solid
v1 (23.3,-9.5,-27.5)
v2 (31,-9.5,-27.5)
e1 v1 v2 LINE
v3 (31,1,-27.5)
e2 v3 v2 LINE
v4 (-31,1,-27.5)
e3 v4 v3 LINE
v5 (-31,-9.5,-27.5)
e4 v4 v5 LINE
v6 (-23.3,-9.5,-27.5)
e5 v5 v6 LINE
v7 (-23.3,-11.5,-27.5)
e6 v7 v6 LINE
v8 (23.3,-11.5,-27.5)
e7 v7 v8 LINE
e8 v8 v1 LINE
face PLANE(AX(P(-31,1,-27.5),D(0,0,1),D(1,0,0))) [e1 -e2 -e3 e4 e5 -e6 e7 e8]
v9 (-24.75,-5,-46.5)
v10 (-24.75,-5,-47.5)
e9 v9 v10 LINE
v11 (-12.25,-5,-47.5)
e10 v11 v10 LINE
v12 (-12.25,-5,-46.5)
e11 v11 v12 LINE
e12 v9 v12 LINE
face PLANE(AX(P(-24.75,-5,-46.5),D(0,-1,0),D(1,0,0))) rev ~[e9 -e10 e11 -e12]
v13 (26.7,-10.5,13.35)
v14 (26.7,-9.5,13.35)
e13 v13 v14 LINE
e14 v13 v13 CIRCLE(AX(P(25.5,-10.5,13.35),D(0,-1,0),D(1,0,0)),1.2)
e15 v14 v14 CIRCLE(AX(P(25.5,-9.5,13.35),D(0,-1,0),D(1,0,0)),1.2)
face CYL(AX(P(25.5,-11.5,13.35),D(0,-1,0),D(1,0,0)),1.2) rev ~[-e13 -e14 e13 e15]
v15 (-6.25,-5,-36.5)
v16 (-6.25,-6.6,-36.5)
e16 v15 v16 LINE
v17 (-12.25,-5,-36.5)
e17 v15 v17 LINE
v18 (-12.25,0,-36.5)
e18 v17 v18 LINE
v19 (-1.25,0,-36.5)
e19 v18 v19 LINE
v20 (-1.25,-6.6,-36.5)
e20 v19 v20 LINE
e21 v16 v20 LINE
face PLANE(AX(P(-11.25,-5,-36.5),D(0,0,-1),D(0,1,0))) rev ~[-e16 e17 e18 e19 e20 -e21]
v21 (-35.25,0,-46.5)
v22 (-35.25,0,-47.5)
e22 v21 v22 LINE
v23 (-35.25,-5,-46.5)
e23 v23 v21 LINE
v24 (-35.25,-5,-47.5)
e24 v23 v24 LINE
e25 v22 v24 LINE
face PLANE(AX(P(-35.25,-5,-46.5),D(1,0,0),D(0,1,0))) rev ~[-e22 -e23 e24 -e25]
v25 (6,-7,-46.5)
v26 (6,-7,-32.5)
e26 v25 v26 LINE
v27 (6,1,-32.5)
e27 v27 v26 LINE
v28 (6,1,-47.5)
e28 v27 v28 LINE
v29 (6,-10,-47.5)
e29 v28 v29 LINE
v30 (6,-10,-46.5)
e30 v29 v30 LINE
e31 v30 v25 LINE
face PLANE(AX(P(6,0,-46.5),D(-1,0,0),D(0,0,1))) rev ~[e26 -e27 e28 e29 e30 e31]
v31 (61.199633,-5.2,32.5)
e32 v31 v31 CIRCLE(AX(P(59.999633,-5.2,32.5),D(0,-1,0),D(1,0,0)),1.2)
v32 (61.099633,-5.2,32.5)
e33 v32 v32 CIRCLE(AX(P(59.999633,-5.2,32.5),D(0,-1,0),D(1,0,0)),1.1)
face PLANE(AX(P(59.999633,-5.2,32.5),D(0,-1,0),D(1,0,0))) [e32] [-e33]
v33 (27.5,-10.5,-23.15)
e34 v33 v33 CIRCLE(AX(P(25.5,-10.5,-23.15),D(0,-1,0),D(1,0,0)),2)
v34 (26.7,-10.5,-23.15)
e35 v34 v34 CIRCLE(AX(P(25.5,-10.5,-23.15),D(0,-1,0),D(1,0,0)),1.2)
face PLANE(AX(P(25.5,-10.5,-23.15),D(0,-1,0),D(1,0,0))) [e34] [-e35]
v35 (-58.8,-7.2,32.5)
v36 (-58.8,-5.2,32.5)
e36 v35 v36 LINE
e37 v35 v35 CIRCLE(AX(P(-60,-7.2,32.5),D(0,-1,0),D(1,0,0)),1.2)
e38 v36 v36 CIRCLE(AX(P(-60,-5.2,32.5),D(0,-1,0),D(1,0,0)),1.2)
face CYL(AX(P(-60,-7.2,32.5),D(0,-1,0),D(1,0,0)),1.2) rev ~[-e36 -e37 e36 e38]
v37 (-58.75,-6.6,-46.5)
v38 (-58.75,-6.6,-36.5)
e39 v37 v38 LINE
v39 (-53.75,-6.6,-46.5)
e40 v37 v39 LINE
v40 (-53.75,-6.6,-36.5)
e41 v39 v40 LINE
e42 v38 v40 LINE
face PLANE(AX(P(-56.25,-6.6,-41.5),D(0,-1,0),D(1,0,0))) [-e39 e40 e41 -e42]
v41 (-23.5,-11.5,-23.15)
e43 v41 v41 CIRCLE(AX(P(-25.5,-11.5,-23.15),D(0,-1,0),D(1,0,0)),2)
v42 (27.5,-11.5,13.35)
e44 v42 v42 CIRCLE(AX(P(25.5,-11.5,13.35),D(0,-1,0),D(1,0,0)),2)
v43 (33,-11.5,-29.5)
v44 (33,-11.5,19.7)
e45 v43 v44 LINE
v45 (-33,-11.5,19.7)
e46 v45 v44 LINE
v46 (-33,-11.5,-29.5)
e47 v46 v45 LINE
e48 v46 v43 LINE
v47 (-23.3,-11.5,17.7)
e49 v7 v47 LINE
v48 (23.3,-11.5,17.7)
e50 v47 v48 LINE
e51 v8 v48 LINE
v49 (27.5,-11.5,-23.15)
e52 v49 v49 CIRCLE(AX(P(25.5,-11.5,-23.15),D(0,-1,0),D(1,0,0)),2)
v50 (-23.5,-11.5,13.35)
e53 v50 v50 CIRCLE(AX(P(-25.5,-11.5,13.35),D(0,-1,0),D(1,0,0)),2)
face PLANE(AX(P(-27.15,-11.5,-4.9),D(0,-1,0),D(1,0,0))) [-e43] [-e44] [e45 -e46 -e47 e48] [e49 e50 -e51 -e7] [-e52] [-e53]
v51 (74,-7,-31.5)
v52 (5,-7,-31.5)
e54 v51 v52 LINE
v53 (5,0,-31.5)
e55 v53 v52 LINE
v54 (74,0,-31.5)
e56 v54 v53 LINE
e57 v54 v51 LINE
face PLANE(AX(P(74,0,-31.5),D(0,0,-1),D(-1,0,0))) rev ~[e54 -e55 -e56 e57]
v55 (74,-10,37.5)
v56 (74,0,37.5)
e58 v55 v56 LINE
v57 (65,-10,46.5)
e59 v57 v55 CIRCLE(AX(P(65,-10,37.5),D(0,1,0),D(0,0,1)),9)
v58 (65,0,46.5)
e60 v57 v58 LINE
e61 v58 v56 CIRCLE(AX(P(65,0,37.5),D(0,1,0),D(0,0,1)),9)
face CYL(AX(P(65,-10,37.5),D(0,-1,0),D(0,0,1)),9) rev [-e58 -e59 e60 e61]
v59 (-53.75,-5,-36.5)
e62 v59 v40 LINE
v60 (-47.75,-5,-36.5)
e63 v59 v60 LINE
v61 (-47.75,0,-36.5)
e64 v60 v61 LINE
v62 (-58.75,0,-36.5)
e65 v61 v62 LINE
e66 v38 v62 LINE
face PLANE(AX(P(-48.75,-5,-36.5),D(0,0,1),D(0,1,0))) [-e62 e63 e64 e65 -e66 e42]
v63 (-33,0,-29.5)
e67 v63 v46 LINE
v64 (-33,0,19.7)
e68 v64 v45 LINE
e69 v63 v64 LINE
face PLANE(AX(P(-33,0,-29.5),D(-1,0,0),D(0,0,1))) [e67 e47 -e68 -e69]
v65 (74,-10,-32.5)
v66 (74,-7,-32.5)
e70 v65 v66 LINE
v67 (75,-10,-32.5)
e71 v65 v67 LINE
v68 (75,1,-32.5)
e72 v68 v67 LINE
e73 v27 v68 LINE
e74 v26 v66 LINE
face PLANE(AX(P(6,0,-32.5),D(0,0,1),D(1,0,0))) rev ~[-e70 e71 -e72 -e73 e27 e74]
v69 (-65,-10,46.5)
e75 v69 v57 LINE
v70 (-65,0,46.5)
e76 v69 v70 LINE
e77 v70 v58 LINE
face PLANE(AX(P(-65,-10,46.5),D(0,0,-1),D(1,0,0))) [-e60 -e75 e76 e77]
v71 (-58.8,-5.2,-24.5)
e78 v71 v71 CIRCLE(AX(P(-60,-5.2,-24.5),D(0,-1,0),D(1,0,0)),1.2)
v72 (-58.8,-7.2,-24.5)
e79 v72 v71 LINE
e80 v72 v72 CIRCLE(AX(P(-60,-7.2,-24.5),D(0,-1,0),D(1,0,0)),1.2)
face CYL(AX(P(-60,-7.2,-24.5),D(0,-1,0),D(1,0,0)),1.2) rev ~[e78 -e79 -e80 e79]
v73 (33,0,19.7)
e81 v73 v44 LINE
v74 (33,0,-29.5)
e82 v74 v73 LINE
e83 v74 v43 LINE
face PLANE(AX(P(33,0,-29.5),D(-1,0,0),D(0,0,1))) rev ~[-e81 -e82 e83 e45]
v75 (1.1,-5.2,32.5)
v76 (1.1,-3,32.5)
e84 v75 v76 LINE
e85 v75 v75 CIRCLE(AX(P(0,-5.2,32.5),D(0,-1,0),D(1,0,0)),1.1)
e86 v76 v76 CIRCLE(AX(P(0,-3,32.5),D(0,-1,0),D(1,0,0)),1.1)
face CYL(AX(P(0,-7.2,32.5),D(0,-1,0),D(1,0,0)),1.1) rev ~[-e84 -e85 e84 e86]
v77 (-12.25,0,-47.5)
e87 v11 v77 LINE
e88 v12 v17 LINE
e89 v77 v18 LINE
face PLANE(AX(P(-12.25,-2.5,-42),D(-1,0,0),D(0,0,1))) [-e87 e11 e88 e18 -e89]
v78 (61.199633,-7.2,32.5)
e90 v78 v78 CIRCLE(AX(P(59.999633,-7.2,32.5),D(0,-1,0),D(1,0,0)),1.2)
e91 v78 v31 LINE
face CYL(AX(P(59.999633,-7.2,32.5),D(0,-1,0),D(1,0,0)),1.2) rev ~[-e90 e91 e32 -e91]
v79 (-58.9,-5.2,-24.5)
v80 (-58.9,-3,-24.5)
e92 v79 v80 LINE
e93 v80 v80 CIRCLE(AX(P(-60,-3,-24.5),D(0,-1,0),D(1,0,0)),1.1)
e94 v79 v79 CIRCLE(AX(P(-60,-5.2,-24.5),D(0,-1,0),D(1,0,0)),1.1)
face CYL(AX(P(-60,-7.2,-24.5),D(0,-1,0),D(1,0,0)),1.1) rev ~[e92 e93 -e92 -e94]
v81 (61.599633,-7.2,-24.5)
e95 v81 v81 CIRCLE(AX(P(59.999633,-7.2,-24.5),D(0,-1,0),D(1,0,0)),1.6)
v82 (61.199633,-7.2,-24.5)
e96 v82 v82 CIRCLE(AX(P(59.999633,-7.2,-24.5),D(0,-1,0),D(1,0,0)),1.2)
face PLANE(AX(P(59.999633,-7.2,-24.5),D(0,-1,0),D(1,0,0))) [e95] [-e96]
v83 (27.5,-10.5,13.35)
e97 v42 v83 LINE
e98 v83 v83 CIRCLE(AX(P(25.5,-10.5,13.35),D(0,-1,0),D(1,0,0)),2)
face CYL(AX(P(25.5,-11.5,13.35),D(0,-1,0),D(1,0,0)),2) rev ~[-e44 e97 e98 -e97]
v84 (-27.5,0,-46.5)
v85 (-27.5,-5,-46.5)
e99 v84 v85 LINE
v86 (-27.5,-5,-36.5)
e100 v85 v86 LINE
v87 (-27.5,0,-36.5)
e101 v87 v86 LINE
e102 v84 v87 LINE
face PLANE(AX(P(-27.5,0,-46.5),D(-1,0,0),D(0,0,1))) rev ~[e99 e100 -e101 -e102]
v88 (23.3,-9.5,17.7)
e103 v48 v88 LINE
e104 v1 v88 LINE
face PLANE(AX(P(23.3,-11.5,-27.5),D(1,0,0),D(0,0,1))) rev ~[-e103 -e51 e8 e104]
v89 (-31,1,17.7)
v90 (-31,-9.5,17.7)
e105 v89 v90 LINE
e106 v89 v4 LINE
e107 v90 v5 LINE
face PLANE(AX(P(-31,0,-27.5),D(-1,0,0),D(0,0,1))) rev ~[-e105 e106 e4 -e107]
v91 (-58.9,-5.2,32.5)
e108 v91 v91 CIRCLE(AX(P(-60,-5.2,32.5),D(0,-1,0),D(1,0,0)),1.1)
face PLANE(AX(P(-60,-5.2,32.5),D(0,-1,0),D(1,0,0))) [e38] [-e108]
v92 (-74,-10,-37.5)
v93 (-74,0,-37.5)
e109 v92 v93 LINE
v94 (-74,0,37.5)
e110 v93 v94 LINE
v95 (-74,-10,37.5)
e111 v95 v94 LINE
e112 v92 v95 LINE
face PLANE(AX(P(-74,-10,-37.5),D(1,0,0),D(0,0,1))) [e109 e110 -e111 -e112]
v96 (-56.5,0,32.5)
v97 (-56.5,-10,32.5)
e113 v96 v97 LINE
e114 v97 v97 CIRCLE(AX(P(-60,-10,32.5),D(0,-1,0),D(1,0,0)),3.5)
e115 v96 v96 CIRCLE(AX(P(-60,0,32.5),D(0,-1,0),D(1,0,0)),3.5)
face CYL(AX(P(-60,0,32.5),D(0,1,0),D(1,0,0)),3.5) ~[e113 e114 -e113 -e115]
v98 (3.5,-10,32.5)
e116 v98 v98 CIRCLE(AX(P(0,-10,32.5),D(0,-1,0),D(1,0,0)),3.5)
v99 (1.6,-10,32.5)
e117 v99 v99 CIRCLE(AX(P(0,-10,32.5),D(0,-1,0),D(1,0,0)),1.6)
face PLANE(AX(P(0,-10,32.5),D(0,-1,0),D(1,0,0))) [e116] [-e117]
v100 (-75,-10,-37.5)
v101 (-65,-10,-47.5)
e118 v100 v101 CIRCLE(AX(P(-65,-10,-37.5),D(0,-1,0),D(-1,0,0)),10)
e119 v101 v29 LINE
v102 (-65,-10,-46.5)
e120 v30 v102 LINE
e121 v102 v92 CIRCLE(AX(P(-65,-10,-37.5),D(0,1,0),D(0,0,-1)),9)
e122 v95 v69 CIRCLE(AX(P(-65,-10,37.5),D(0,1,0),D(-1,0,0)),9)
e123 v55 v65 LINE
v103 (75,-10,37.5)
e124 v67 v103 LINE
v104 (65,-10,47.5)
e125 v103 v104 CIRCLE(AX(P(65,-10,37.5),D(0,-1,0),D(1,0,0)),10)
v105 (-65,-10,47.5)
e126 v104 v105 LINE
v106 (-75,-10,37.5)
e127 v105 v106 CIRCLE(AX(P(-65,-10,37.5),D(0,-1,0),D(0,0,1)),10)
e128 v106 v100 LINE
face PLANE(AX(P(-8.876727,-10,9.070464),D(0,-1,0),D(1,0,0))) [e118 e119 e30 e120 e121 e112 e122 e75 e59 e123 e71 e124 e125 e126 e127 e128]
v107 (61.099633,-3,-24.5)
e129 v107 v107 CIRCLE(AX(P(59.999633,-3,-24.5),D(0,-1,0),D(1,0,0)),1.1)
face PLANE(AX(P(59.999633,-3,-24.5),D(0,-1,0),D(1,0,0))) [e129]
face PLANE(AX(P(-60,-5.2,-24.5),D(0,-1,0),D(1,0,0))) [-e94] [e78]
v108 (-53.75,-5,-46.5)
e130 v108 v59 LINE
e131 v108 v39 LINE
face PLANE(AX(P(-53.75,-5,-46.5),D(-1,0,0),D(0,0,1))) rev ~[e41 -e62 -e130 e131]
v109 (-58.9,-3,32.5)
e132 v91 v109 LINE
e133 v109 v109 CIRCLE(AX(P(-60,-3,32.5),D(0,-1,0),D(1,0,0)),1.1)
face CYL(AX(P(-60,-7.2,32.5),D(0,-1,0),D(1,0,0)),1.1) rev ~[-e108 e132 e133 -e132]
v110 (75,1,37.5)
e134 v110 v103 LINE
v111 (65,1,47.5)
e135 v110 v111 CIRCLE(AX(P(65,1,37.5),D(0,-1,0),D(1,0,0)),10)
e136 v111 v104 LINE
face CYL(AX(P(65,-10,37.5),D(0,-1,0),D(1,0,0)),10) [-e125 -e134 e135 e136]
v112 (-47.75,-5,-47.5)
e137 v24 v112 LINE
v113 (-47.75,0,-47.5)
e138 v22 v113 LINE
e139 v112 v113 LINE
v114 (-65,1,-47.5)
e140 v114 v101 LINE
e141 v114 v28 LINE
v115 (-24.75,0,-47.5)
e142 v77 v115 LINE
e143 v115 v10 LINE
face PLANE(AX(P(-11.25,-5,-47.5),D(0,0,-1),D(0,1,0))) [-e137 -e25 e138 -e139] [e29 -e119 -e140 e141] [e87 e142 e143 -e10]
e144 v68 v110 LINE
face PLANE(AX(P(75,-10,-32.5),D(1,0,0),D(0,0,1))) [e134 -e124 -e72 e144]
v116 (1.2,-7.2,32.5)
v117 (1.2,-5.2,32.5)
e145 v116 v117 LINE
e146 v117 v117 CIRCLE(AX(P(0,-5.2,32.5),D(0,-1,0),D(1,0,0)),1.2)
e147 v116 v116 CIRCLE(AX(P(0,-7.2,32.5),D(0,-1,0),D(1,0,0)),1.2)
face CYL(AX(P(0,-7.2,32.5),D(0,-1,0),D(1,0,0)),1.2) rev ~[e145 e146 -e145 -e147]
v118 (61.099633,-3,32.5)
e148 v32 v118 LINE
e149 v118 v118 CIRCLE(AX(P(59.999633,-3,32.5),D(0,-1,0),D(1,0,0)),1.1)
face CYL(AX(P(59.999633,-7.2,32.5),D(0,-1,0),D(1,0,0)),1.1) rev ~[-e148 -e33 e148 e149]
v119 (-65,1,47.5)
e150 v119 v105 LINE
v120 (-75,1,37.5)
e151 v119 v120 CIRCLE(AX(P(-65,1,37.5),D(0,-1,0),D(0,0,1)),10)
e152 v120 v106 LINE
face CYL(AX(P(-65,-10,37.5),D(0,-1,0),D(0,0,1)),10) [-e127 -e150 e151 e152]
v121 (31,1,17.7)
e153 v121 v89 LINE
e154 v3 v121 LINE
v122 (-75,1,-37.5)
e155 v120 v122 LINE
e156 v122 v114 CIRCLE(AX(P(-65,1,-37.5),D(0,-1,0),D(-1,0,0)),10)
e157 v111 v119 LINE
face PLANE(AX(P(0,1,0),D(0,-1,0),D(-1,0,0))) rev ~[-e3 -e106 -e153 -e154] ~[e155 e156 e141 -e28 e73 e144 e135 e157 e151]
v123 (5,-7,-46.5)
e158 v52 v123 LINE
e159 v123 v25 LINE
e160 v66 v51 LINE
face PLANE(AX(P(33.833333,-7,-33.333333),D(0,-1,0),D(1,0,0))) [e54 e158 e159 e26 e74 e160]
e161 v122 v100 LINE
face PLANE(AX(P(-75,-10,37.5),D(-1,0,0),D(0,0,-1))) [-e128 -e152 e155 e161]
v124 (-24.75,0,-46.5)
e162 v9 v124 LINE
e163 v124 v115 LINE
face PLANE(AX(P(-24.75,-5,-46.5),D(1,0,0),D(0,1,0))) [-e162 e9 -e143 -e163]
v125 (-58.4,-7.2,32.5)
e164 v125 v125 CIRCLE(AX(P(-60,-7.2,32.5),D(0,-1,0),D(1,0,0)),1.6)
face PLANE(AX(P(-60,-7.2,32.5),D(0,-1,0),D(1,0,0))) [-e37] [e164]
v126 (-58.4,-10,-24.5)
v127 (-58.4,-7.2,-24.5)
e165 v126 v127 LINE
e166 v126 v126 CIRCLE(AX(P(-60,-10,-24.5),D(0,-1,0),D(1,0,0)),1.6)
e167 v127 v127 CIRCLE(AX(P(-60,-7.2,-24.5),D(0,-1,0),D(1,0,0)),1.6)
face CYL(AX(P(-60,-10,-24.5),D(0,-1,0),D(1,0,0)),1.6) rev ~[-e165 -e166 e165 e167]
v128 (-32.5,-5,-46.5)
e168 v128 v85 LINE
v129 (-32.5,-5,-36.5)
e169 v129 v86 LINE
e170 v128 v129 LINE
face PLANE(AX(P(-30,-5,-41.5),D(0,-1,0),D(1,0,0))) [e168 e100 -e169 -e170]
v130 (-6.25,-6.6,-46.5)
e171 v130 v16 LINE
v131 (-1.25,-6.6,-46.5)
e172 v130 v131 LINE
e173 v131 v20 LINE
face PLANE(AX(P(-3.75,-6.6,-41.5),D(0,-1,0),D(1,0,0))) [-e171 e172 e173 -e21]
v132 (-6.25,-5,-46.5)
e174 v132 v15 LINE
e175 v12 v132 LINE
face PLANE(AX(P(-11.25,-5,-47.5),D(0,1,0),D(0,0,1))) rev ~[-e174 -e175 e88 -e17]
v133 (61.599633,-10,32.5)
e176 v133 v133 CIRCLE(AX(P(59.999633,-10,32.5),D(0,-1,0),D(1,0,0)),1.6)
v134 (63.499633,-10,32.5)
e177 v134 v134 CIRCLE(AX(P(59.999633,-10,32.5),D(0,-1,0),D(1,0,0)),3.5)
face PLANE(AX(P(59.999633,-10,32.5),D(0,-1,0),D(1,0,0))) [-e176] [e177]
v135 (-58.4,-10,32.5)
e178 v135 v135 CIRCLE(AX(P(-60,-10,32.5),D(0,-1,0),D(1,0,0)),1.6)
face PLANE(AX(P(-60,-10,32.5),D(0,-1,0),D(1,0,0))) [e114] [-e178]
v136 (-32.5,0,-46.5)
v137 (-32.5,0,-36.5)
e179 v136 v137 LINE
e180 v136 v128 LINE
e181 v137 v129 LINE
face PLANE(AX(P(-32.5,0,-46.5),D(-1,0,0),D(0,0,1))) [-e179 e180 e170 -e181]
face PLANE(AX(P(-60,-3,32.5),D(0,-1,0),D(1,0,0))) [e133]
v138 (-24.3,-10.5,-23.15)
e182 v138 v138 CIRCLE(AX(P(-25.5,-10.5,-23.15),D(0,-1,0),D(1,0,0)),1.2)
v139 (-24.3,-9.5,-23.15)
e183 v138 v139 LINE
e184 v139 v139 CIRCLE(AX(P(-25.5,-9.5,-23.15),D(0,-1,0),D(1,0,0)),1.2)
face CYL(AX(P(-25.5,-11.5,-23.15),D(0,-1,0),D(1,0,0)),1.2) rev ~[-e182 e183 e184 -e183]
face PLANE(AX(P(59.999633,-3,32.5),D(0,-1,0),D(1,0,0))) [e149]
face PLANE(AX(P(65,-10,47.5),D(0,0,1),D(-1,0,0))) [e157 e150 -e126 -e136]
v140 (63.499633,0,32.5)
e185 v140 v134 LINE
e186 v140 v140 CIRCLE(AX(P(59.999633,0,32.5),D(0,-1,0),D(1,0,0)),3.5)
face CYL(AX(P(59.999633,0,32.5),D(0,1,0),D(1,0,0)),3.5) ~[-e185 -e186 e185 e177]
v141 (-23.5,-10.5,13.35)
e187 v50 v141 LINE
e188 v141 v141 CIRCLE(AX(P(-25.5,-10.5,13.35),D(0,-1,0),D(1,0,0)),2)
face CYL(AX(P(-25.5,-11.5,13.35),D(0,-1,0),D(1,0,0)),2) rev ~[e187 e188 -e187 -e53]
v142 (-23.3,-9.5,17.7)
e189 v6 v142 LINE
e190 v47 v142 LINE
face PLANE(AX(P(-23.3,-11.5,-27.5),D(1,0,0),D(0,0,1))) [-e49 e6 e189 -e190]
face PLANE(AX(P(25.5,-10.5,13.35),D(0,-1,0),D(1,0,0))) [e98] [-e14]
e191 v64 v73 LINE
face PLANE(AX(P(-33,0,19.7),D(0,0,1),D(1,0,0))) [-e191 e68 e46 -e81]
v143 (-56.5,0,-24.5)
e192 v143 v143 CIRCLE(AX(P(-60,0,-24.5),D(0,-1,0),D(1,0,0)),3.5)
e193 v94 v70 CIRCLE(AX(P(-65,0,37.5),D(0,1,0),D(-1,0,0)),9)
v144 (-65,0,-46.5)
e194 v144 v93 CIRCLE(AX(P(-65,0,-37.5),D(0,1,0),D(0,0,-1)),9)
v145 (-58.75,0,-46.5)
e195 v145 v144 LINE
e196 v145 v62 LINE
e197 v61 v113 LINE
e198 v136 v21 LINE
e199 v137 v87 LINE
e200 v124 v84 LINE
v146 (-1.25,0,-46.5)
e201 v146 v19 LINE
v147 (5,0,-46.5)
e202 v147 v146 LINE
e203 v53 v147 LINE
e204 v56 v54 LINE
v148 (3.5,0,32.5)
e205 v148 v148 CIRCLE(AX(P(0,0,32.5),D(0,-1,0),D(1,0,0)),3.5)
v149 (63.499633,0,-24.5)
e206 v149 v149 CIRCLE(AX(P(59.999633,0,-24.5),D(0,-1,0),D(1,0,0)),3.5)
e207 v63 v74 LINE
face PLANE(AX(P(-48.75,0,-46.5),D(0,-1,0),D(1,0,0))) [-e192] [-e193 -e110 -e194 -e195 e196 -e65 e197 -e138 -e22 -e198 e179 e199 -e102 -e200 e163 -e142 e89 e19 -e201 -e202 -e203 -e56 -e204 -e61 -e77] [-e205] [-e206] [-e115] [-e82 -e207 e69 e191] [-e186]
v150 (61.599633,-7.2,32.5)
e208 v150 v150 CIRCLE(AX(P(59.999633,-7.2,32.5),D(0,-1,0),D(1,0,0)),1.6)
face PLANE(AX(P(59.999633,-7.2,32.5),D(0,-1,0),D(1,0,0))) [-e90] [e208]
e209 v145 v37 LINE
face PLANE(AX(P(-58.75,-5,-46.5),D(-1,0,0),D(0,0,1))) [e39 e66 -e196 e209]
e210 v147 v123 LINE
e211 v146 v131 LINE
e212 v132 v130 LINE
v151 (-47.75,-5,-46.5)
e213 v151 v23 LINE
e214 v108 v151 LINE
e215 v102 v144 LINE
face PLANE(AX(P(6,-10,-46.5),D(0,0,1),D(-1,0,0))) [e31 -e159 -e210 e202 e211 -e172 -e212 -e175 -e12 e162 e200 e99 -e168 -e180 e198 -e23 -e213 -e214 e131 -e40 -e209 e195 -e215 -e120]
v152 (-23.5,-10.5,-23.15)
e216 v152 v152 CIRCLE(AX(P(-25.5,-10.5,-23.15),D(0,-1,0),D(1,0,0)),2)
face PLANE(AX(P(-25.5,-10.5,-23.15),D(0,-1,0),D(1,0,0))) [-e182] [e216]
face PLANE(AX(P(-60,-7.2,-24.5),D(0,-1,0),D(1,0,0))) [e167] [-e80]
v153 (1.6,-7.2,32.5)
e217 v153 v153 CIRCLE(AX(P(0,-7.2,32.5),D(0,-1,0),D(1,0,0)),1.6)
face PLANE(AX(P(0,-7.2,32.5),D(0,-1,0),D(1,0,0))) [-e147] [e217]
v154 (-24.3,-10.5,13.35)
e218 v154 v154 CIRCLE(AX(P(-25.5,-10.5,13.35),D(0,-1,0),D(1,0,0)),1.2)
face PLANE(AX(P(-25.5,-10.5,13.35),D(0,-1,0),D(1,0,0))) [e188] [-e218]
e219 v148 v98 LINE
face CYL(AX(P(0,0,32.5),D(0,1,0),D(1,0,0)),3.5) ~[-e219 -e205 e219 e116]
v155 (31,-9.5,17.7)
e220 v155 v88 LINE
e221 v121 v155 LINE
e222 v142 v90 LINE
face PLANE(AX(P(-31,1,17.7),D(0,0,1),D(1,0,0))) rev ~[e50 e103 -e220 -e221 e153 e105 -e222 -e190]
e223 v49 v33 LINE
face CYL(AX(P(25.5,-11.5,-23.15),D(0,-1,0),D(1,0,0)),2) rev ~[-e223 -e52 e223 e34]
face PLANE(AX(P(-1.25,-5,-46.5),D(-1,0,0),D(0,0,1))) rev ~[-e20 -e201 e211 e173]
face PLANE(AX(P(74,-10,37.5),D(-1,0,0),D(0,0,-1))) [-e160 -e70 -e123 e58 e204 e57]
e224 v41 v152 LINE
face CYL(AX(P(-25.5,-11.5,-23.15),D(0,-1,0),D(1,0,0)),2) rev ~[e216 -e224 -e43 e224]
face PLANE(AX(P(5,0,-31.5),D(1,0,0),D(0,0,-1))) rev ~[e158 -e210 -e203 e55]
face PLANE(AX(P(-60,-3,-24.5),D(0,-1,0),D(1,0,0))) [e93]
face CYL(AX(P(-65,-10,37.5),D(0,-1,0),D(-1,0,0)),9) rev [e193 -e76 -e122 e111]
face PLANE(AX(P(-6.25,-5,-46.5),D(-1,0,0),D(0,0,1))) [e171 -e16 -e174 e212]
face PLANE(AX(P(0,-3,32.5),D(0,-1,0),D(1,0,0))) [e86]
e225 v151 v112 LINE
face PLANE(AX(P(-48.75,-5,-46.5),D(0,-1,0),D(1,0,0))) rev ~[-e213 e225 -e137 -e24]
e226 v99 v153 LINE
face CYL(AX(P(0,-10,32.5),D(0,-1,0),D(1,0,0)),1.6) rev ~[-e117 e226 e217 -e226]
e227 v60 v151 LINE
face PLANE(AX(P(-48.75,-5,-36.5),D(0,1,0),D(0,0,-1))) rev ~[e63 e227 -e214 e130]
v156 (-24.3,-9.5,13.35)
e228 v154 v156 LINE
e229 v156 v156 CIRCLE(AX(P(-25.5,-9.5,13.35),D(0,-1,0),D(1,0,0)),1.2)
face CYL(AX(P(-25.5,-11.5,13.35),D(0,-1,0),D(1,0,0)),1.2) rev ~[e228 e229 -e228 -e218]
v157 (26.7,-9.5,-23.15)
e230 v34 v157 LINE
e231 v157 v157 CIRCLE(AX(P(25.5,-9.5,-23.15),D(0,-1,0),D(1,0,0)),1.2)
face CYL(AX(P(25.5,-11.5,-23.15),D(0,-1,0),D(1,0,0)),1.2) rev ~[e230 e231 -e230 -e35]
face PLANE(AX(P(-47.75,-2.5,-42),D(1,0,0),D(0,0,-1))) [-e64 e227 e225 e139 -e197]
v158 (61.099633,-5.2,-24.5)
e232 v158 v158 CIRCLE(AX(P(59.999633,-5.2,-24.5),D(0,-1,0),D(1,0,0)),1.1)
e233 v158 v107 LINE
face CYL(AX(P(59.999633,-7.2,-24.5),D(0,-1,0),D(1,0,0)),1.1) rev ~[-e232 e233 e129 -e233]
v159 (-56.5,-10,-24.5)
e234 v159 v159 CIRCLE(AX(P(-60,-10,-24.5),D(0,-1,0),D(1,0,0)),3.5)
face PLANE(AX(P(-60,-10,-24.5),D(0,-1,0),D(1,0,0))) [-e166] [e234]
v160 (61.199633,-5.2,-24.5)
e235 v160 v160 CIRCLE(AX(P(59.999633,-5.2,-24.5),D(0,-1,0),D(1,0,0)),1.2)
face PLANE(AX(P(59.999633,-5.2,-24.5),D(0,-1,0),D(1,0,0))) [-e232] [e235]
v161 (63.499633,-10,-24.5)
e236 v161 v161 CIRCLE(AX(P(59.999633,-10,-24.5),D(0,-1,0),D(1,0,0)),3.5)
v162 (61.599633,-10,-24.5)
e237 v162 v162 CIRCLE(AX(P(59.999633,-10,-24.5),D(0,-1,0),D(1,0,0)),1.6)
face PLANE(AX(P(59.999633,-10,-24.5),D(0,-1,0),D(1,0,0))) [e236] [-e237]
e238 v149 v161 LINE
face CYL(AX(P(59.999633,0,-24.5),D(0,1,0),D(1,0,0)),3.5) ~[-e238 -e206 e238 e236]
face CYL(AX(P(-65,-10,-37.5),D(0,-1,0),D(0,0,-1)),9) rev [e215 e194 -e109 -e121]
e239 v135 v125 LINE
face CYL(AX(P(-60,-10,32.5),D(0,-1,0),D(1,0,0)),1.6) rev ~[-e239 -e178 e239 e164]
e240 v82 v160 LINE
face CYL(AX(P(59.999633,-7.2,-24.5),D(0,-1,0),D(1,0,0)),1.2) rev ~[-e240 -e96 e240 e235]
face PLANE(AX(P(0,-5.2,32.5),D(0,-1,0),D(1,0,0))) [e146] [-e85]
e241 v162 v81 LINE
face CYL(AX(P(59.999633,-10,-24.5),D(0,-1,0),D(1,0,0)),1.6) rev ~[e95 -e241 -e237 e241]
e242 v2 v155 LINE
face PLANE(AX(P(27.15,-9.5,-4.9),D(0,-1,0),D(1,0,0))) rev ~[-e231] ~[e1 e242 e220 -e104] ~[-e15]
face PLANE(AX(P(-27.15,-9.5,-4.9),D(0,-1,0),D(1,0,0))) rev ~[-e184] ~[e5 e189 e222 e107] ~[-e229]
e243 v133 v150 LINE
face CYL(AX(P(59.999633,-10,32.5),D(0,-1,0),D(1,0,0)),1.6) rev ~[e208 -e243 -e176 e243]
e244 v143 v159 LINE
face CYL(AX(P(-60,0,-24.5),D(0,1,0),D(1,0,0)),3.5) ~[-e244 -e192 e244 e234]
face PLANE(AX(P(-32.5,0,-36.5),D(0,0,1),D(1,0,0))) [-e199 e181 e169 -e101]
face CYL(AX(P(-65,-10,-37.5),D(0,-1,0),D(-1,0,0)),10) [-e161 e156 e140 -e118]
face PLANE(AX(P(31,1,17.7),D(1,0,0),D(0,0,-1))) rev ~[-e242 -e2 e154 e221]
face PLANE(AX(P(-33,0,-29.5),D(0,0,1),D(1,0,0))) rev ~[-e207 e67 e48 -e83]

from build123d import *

# Parameters (mm, degrees)
EXTRUDE_1_DEPTH      = 1
SKETCH_2_W           = 69
SKETCH_2_H           = 15
CUT_EXTRUDE_1_DEPTH  = 1
EXTRUDE_START        = 10
EXTRUDE_2_DEPTH      = 10
SKETCH_4_R           = 2.5
EXTRUDE_3_DEPTH      = 10
SKETCH_5_R           = 1.5
CUT_EXTRUDE_2_DEPTH  = 2.8
SKETCH_6_R           = 1.1
CUT_EXTRUDE_4_DEPTH  = 4.2
EXTRUDE_4_DEPTH      = 7
SKETCH_8_R           = 2.5
EXTRUDE_5_DEPTH      = 10
SKETCH_9_R           = 1.5
CUT_EXTRUDE_5_DEPTH  = 2.8
SKETCH_10_R          = 1.1
CUT_EXTRUDE_6_DEPTH  = 4.2
SKETCH_11_W          = 62
SKETCH_11_H          = 45.2
CUT_EXTRUDE_7_DEPTH  = 10
SKETCH_12_R          = 2.5
CUT_EXTRUDE_8_DEPTH  = 10
SKETCH_13_W          = 66
SKETCH_13_H          = 49.2
SKETCH_13_W_2        = 62
SKETCH_13_H_2        = 45.2
EXTRUDE_6_DEPTH      = 11.5
SKETCH_14_W          = 7.7
SKETCH_14_H          = 45.2
SKETCH_14_R          = 1.2
EXTRUDE_9_DEPTH      = 2
SKETCH_16_R          = 2
CUT_EXTRUDE_12_DEPTH = 1
SKETCH_17_R          = 1.6
CUT_EXTRUDE_13_DEPTH = 2.8
SKETCH_18_R          = 1.2
CUT_EXTRUDE_14_DEPTH = 2
SKETCH_19_R          = 3.5
SKETCH_19_R_2        = 2.5
EXTRUDE_10_DEPTH     = 10
FILLET_2_R           = 2
SKETCH_20_W          = 62
SKETCH_20_H          = 45.2
CUT_EXTRUDE_15_DEPTH = 10.5
SKETCH_21_W          = 13.5
SKETCH_21_H          = 5
CUT_EXTRUDE_22_DEPTH = 15
SKETCH_24_W          = 10
SKETCH_24_H          = 10
SKETCH_24_W_2        = 5
EXTRUDE_11_DEPTH     = 5
SKETCH_25_W          = 5
SKETCH_25_H          = 10
EXTRUDE_12_DEPTH     = 1.6
SKETCH_27_W          = 11
SKETCH_27_H          = 5
EXTRUDE_13_DEPTH     = 1
SKETCH_28_W          = 11
SKETCH_28_H          = 5
EXTRUDE_14_DEPTH     = 1


with BuildPart() as part:
    # 스케치1 → 보스-돌출1 (new body)
    with BuildSketch(Plane(origin=(0, 0, 0), x_dir=(1, 0, 0), z_dir=(0, 1, 0))):
        with BuildLine():
            Line((-65, 47.5), (65, 47.5))
            ThreePointArc((65, 47.5), (72.071067812, 44.571067812), (75, 37.5))
            Line((75, 37.5), (75, -37.5))
            ThreePointArc((75, -37.5), (72.071067812, -44.571067812), (65, -47.5))
            Line((65, -47.5), (-65, -47.5))
            ThreePointArc((-65, -47.5), (-72.071067812, -44.571067812), (-75, -37.5))
            Line((-75, -37.5), (-75, 37.5))
            ThreePointArc((-75, 37.5), (-72.071067812, 44.571067812), (-65, 47.5))
        make_face()
    extrude(amount=EXTRUDE_1_DEPTH)

    # 스케치2 → 컷-돌출1 (cut)
    with BuildSketch(Plane(origin=(0, 1, 0), x_dir=(1, 0, 0), z_dir=(0, 1, 0))):
        with Locations((40.5, 40)):
            Rectangle(SKETCH_2_W, SKETCH_2_H)
    extrude(amount=-CUT_EXTRUDE_1_DEPTH, mode=Mode.SUBTRACT)

    # 스케치3 → 보스-돌출2 (add)
    with BuildSketch(Plane.XZ.offset(EXTRUDE_START)):
        with BuildLine():
            Line((74, 37.5), (74, -31.5))
            Line((74, -31.5), (74, -32.5))
            Line((74, -32.5), (75, -32.5))
            Line((75, -32.5), (75, 37.5))
            ThreePointArc((75, 37.5), (72.071067812, 44.571067812), (65, 47.5))
            Line((65, 47.5), (-65, 47.5))
            ThreePointArc((-65, 47.5), (-72.071067812, 44.571067812), (-75, 37.5))
            Line((-75, 37.5), (-75, -37.5))
            ThreePointArc((-75, -37.5), (-72.071067812, -44.571067812), (-65, -47.5))
            Line((-65, -47.5), (6, -47.5))
            Line((6, -47.5), (6, -46.5))
            Line((6, -46.5), (5, -46.5))
            Line((5, -46.5), (-65, -46.5))
            ThreePointArc((-65, -46.5), (-71.363961031, -43.863961031), (-74, -37.5))
            Line((-74, -37.5), (-74, 37.5))
            ThreePointArc((-74, 37.5), (-71.363961031, 43.863961031), (-65, 46.5))
            Line((-65, 46.5), (65, 46.5))
            ThreePointArc((65, 46.5), (71.363961031, 43.863961031), (74, 37.5))
        make_face()
    extrude(amount=-EXTRUDE_2_DEPTH)

    # 스케치4 → 보스-돌출3 (add)
    with BuildSketch(Plane.XZ):
        with Locations((-60, 32.5)):
            Circle(SKETCH_4_R)
        with Locations((59.999632967, 32.5)):
            Circle(SKETCH_4_R)
        with Locations((-60, -24.5)):
            Circle(SKETCH_4_R)
        with Locations((59.999632967, -24.5)):
            Circle(SKETCH_4_R)
    extrude(amount=EXTRUDE_3_DEPTH)

    # 스케치5 → 컷-돌출2 (cut)
    with BuildSketch(Plane.XZ.offset(10)):
        with Locations((-60, -24.5)):
            Circle(SKETCH_5_R)
        with Locations((-60, 32.5)):
            Circle(SKETCH_5_R)
        with Locations((59.999632967, 32.5)):
            Circle(SKETCH_5_R)
        with Locations((59.999632967, -24.5)):
            Circle(SKETCH_5_R)
    extrude(amount=-CUT_EXTRUDE_2_DEPTH, mode=Mode.SUBTRACT)

    # 스케치6 → 컷-돌출4 (cut)
    with BuildSketch(Plane.XZ.offset(7.2)):
        with Locations((-60, -24.5)):
            Circle(SKETCH_6_R)
        with Locations((-60, 32.5)):
            Circle(SKETCH_6_R)
        with Locations((59.999632967, 32.5)):
            Circle(SKETCH_6_R)
        with Locations((59.999632967, -24.5)):
            Circle(SKETCH_6_R)
    extrude(amount=-CUT_EXTRUDE_4_DEPTH, mode=Mode.SUBTRACT)

    # 스케치7 → 보스-돌출4 (add)
    with BuildSketch(Plane.XZ):
        Polygon((5, -46.5), (6, -46.5), (6, -32.5), (74, -32.5), (74, -31.5), (5, -31.5), align=None)
    extrude(amount=EXTRUDE_4_DEPTH)

    # 스케치8 → 보스-돌출5 (add)
    with BuildSketch(Plane.XZ):
        with Locations((0, 32.5)):
            Circle(SKETCH_8_R)
        with Locations((0, -24.5)):
            Circle(SKETCH_8_R)
    extrude(amount=EXTRUDE_5_DEPTH)

    # 스케치9 → 컷-돌출5 (cut)
    with BuildSketch(Plane.XZ.offset(10)):
        with Locations((0, 32.5)):
            Circle(SKETCH_9_R)
        with Locations((0, -24.5)):
            Circle(SKETCH_9_R)
    extrude(amount=-CUT_EXTRUDE_5_DEPTH, mode=Mode.SUBTRACT)

    # 스케치10 → 컷-돌출6 (cut)
    with BuildSketch(Plane.XZ.offset(7.2)):
        with Locations((0, 32.5)):
            Circle(SKETCH_10_R)
        with Locations((0, -24.5)):
            Circle(SKETCH_10_R)
    extrude(amount=-CUT_EXTRUDE_6_DEPTH, mode=Mode.SUBTRACT)

    # 스케치11 → 컷-돌출7 (cut)
    with BuildSketch(Plane(origin=(0, 1, 0), x_dir=(1, 0, 0), z_dir=(0, 1, 0))):
        with Locations((0, 4.9)):
            Rectangle(SKETCH_11_W, SKETCH_11_H)
    extrude(amount=-CUT_EXTRUDE_7_DEPTH, mode=Mode.SUBTRACT)


with BuildPart() as cut_extrude_7_piece_1:
    # of the separate pieces the step leaves, piece 1, a body of its own (cut_extrude_7_pieces)
    add(part.part.solids().sort_by_distance((6, 1, -47.5))[0])

    # 스케치13 → 보스-돌출6 (add)
    with BuildSketch(Plane.XZ):
        with Locations((0, -4.9)):
            Rectangle(SKETCH_13_W, SKETCH_13_H)
        with Locations((0, -4.9)):
            Rectangle(SKETCH_13_W_2, SKETCH_13_H_2, mode=Mode.SUBTRACT)
    extrude(amount=EXTRUDE_6_DEPTH)

    # 스케치14 → 보스-돌출9 (add)
    # profile 1 of 2: a face of its own
    with BuildSketch(Plane.XZ.offset(11.5)):
        with Locations((-27.15, -4.9)):
            Rectangle(SKETCH_14_W, SKETCH_14_H)
        with Locations((-25.5, 13.35)):
            Circle(SKETCH_14_R, mode=Mode.SUBTRACT)
        with Locations((-25.5, -23.15)):
            Circle(SKETCH_14_R, mode=Mode.SUBTRACT)
    # profile 2 of 2: a face of its own
    with BuildSketch(Plane.XZ.offset(11.5)):
        with Locations((27.15, -4.9)):
            Rectangle(SKETCH_14_W, SKETCH_14_H)
        with Locations((25.5, 13.35)):
            Circle(SKETCH_14_R, mode=Mode.SUBTRACT)
        with Locations((25.5, -23.15)):
            Circle(SKETCH_14_R, mode=Mode.SUBTRACT)
    extrude(amount=-EXTRUDE_9_DEPTH)

    # 스케치16 → 컷-돌출12 (cut)
    with BuildSketch(Plane.XZ.offset(11.5)):
        with Locations((-25.5, 13.35)):
            Circle(SKETCH_16_R)
        with Locations((-25.5, -23.15)):
            Circle(SKETCH_16_R)
        with Locations((25.5, -23.15)):
            Circle(SKETCH_16_R)
        with Locations((25.5, 13.35)):
            Circle(SKETCH_16_R)
    extrude(amount=-CUT_EXTRUDE_12_DEPTH, mode=Mode.SUBTRACT)

    # 스케치17 → 컷-돌출13 (cut)
    with BuildSketch(Plane.XZ.offset(10)):
        with Locations((-60, -24.5)):
            Circle(SKETCH_17_R)
        with Locations((-60, 32.5)):
            Circle(SKETCH_17_R)
        with Locations((59.999632967, 32.5)):
            Circle(SKETCH_17_R)
        with Locations((0, 32.5)):
            Circle(SKETCH_17_R)
        with Locations((59.999632967, -24.5)):
            Circle(SKETCH_17_R)
    extrude(amount=-CUT_EXTRUDE_13_DEPTH, mode=Mode.SUBTRACT)

    # 스케치18 → 컷-돌출14 (cut)
    with BuildSketch(Plane.XZ.offset(7.2)):
        with Locations((-60, -24.5)):
            Circle(SKETCH_18_R)
        with Locations((-60, 32.5)):
            Circle(SKETCH_18_R)
        with Locations((0, 32.5)):
            Circle(SKETCH_18_R)
        with Locations((59.999632967, 32.5)):
            Circle(SKETCH_18_R)
        with Locations((59.999632967, -24.5)):
            Circle(SKETCH_18_R)
    extrude(amount=-CUT_EXTRUDE_14_DEPTH, mode=Mode.SUBTRACT)

    # 스케치19 → 보스-돌출10 (add)
    # profile 1 of 5: a face of its own
    with BuildSketch(Plane.XZ):
        with Locations((-60, 32.5)):
            Circle(SKETCH_19_R)
        with Locations((-60, 32.5)):
            Circle(SKETCH_19_R_2, mode=Mode.SUBTRACT)
    # profile 2 of 5: a face of its own
    with BuildSketch(Plane.XZ):
        with Locations((-60, -24.5)):
            Circle(SKETCH_19_R)
        with Locations((-60, -24.5)):
            Circle(SKETCH_19_R_2, mode=Mode.SUBTRACT)
    # profile 3 of 5: a face of its own
    with BuildSketch(Plane.XZ):
        with Locations((59.999632967, -24.5)):
            Circle(SKETCH_19_R)
        with Locations((59.999632967, -24.5)):
            Circle(SKETCH_19_R_2, mode=Mode.SUBTRACT)
    # profile 4 of 5: a face of its own
    with BuildSketch(Plane.XZ):
        with Locations((59.999632967, 32.5)):
            Circle(SKETCH_19_R)
        with Locations((59.999632967, 32.5)):
            Circle(SKETCH_19_R_2, mode=Mode.SUBTRACT)
    # profile 5 of 5: a face of its own
    with BuildSketch(Plane.XZ):
        with Locations((0, 32.5)):
            Circle(SKETCH_19_R)
        with Locations((0, 32.5)):
            Circle(SKETCH_19_R_2, mode=Mode.SUBTRACT)
    extrude(amount=EXTRUDE_10_DEPTH)

    # 필렛2
    fillet_2_edges = [cut_extrude_7_piece_1.edges().sort_by_distance(p)[0] for p in [
        (31, -4.25, 17.7),
        (31, -4.25, -27.5),
        (-31, -4.25, -27.5),
        (-31, -4.25, 17.7),
    ]]
    fillet(fillet_2_edges, radius=FILLET_2_R)

    # 스케치20 → 컷-돌출15 (cut)
    with BuildSketch(Plane(origin=(0, 1, 0), x_dir=(1, 0, 0), z_dir=(0, 1, 0))):
        with Locations((0, 4.9)):
            Rectangle(SKETCH_20_W, SKETCH_20_H)
    extrude(amount=-CUT_EXTRUDE_15_DEPTH, mode=Mode.SUBTRACT)

    # 스케치21 → 컷-돌출22 (cut)
    with BuildSketch(Plane.XY.offset(-46.5)):
        with Locations((-42, -2.5)):
            Rectangle(SKETCH_21_W, SKETCH_21_H)
        with Locations((-18, -2.5)):
            Rectangle(SKETCH_21_W, SKETCH_21_H)
    extrude(amount=-CUT_EXTRUDE_22_DEPTH, mode=Mode.SUBTRACT)

    # 스케치24 → 보스-돌출11 (add)
    with BuildSketch(Plane.XZ):
        with Locations((-6.25, -41.5)):
            Rectangle(SKETCH_24_W, SKETCH_24_H)
        with Locations((-53.75, -41.5)):
            Rectangle(SKETCH_24_W, SKETCH_24_H)
        with Locations((-30, -41.5)):
            Rectangle(SKETCH_24_W_2, SKETCH_24_H)
    extrude(amount=EXTRUDE_11_DEPTH)

    # 스케치25 → 보스-돌출12 (add)
    with BuildSketch(Plane.XZ.offset(5)):
        with Locations((-56.25, -41.5)):
            Rectangle(SKETCH_25_W, SKETCH_25_H)
        with Locations((-3.75, -41.5)):
            Rectangle(SKETCH_25_W, SKETCH_25_H)
    extrude(amount=EXTRUDE_12_DEPTH)

    # 스케치27 → 보스-돌출13 (add)
    with BuildSketch(Plane.ZY.offset(11.25)):
        with Locations((-42, -2.5)):
            Rectangle(SKETCH_27_W, SKETCH_27_H)
    extrude(amount=EXTRUDE_13_DEPTH)

    # 스케치28 → 보스-돌출14 (add)
    with BuildSketch(Plane(origin=(-48.75, 0, 0), x_dir=(0, 0, -1), z_dir=(1, 0, 0))):
        with Locations((42, -2.5)):
            Rectangle(SKETCH_28_W, SKETCH_28_H)
    extrude(amount=EXTRUDE_14_DEPTH)


with BuildPart() as cut_extrude_7_piece_2:
    # of the separate pieces the step leaves, piece 2, a body of its own (cut_extrude_7_pieces)
    add(part.part.solids().sort_by_distance((2.5, -9, -24.5))[0])

    # 스케치12 → 컷-돌출8 (cut)
    with BuildSketch(Plane.XZ.offset(10)):
        with Locations((0, -24.5)):
            Circle(SKETCH_12_R)
    extrude(amount=-CUT_EXTRUDE_8_DEPTH, mode=Mode.SUBTRACT)


solid = cut_extrude_7_piece_1.part
